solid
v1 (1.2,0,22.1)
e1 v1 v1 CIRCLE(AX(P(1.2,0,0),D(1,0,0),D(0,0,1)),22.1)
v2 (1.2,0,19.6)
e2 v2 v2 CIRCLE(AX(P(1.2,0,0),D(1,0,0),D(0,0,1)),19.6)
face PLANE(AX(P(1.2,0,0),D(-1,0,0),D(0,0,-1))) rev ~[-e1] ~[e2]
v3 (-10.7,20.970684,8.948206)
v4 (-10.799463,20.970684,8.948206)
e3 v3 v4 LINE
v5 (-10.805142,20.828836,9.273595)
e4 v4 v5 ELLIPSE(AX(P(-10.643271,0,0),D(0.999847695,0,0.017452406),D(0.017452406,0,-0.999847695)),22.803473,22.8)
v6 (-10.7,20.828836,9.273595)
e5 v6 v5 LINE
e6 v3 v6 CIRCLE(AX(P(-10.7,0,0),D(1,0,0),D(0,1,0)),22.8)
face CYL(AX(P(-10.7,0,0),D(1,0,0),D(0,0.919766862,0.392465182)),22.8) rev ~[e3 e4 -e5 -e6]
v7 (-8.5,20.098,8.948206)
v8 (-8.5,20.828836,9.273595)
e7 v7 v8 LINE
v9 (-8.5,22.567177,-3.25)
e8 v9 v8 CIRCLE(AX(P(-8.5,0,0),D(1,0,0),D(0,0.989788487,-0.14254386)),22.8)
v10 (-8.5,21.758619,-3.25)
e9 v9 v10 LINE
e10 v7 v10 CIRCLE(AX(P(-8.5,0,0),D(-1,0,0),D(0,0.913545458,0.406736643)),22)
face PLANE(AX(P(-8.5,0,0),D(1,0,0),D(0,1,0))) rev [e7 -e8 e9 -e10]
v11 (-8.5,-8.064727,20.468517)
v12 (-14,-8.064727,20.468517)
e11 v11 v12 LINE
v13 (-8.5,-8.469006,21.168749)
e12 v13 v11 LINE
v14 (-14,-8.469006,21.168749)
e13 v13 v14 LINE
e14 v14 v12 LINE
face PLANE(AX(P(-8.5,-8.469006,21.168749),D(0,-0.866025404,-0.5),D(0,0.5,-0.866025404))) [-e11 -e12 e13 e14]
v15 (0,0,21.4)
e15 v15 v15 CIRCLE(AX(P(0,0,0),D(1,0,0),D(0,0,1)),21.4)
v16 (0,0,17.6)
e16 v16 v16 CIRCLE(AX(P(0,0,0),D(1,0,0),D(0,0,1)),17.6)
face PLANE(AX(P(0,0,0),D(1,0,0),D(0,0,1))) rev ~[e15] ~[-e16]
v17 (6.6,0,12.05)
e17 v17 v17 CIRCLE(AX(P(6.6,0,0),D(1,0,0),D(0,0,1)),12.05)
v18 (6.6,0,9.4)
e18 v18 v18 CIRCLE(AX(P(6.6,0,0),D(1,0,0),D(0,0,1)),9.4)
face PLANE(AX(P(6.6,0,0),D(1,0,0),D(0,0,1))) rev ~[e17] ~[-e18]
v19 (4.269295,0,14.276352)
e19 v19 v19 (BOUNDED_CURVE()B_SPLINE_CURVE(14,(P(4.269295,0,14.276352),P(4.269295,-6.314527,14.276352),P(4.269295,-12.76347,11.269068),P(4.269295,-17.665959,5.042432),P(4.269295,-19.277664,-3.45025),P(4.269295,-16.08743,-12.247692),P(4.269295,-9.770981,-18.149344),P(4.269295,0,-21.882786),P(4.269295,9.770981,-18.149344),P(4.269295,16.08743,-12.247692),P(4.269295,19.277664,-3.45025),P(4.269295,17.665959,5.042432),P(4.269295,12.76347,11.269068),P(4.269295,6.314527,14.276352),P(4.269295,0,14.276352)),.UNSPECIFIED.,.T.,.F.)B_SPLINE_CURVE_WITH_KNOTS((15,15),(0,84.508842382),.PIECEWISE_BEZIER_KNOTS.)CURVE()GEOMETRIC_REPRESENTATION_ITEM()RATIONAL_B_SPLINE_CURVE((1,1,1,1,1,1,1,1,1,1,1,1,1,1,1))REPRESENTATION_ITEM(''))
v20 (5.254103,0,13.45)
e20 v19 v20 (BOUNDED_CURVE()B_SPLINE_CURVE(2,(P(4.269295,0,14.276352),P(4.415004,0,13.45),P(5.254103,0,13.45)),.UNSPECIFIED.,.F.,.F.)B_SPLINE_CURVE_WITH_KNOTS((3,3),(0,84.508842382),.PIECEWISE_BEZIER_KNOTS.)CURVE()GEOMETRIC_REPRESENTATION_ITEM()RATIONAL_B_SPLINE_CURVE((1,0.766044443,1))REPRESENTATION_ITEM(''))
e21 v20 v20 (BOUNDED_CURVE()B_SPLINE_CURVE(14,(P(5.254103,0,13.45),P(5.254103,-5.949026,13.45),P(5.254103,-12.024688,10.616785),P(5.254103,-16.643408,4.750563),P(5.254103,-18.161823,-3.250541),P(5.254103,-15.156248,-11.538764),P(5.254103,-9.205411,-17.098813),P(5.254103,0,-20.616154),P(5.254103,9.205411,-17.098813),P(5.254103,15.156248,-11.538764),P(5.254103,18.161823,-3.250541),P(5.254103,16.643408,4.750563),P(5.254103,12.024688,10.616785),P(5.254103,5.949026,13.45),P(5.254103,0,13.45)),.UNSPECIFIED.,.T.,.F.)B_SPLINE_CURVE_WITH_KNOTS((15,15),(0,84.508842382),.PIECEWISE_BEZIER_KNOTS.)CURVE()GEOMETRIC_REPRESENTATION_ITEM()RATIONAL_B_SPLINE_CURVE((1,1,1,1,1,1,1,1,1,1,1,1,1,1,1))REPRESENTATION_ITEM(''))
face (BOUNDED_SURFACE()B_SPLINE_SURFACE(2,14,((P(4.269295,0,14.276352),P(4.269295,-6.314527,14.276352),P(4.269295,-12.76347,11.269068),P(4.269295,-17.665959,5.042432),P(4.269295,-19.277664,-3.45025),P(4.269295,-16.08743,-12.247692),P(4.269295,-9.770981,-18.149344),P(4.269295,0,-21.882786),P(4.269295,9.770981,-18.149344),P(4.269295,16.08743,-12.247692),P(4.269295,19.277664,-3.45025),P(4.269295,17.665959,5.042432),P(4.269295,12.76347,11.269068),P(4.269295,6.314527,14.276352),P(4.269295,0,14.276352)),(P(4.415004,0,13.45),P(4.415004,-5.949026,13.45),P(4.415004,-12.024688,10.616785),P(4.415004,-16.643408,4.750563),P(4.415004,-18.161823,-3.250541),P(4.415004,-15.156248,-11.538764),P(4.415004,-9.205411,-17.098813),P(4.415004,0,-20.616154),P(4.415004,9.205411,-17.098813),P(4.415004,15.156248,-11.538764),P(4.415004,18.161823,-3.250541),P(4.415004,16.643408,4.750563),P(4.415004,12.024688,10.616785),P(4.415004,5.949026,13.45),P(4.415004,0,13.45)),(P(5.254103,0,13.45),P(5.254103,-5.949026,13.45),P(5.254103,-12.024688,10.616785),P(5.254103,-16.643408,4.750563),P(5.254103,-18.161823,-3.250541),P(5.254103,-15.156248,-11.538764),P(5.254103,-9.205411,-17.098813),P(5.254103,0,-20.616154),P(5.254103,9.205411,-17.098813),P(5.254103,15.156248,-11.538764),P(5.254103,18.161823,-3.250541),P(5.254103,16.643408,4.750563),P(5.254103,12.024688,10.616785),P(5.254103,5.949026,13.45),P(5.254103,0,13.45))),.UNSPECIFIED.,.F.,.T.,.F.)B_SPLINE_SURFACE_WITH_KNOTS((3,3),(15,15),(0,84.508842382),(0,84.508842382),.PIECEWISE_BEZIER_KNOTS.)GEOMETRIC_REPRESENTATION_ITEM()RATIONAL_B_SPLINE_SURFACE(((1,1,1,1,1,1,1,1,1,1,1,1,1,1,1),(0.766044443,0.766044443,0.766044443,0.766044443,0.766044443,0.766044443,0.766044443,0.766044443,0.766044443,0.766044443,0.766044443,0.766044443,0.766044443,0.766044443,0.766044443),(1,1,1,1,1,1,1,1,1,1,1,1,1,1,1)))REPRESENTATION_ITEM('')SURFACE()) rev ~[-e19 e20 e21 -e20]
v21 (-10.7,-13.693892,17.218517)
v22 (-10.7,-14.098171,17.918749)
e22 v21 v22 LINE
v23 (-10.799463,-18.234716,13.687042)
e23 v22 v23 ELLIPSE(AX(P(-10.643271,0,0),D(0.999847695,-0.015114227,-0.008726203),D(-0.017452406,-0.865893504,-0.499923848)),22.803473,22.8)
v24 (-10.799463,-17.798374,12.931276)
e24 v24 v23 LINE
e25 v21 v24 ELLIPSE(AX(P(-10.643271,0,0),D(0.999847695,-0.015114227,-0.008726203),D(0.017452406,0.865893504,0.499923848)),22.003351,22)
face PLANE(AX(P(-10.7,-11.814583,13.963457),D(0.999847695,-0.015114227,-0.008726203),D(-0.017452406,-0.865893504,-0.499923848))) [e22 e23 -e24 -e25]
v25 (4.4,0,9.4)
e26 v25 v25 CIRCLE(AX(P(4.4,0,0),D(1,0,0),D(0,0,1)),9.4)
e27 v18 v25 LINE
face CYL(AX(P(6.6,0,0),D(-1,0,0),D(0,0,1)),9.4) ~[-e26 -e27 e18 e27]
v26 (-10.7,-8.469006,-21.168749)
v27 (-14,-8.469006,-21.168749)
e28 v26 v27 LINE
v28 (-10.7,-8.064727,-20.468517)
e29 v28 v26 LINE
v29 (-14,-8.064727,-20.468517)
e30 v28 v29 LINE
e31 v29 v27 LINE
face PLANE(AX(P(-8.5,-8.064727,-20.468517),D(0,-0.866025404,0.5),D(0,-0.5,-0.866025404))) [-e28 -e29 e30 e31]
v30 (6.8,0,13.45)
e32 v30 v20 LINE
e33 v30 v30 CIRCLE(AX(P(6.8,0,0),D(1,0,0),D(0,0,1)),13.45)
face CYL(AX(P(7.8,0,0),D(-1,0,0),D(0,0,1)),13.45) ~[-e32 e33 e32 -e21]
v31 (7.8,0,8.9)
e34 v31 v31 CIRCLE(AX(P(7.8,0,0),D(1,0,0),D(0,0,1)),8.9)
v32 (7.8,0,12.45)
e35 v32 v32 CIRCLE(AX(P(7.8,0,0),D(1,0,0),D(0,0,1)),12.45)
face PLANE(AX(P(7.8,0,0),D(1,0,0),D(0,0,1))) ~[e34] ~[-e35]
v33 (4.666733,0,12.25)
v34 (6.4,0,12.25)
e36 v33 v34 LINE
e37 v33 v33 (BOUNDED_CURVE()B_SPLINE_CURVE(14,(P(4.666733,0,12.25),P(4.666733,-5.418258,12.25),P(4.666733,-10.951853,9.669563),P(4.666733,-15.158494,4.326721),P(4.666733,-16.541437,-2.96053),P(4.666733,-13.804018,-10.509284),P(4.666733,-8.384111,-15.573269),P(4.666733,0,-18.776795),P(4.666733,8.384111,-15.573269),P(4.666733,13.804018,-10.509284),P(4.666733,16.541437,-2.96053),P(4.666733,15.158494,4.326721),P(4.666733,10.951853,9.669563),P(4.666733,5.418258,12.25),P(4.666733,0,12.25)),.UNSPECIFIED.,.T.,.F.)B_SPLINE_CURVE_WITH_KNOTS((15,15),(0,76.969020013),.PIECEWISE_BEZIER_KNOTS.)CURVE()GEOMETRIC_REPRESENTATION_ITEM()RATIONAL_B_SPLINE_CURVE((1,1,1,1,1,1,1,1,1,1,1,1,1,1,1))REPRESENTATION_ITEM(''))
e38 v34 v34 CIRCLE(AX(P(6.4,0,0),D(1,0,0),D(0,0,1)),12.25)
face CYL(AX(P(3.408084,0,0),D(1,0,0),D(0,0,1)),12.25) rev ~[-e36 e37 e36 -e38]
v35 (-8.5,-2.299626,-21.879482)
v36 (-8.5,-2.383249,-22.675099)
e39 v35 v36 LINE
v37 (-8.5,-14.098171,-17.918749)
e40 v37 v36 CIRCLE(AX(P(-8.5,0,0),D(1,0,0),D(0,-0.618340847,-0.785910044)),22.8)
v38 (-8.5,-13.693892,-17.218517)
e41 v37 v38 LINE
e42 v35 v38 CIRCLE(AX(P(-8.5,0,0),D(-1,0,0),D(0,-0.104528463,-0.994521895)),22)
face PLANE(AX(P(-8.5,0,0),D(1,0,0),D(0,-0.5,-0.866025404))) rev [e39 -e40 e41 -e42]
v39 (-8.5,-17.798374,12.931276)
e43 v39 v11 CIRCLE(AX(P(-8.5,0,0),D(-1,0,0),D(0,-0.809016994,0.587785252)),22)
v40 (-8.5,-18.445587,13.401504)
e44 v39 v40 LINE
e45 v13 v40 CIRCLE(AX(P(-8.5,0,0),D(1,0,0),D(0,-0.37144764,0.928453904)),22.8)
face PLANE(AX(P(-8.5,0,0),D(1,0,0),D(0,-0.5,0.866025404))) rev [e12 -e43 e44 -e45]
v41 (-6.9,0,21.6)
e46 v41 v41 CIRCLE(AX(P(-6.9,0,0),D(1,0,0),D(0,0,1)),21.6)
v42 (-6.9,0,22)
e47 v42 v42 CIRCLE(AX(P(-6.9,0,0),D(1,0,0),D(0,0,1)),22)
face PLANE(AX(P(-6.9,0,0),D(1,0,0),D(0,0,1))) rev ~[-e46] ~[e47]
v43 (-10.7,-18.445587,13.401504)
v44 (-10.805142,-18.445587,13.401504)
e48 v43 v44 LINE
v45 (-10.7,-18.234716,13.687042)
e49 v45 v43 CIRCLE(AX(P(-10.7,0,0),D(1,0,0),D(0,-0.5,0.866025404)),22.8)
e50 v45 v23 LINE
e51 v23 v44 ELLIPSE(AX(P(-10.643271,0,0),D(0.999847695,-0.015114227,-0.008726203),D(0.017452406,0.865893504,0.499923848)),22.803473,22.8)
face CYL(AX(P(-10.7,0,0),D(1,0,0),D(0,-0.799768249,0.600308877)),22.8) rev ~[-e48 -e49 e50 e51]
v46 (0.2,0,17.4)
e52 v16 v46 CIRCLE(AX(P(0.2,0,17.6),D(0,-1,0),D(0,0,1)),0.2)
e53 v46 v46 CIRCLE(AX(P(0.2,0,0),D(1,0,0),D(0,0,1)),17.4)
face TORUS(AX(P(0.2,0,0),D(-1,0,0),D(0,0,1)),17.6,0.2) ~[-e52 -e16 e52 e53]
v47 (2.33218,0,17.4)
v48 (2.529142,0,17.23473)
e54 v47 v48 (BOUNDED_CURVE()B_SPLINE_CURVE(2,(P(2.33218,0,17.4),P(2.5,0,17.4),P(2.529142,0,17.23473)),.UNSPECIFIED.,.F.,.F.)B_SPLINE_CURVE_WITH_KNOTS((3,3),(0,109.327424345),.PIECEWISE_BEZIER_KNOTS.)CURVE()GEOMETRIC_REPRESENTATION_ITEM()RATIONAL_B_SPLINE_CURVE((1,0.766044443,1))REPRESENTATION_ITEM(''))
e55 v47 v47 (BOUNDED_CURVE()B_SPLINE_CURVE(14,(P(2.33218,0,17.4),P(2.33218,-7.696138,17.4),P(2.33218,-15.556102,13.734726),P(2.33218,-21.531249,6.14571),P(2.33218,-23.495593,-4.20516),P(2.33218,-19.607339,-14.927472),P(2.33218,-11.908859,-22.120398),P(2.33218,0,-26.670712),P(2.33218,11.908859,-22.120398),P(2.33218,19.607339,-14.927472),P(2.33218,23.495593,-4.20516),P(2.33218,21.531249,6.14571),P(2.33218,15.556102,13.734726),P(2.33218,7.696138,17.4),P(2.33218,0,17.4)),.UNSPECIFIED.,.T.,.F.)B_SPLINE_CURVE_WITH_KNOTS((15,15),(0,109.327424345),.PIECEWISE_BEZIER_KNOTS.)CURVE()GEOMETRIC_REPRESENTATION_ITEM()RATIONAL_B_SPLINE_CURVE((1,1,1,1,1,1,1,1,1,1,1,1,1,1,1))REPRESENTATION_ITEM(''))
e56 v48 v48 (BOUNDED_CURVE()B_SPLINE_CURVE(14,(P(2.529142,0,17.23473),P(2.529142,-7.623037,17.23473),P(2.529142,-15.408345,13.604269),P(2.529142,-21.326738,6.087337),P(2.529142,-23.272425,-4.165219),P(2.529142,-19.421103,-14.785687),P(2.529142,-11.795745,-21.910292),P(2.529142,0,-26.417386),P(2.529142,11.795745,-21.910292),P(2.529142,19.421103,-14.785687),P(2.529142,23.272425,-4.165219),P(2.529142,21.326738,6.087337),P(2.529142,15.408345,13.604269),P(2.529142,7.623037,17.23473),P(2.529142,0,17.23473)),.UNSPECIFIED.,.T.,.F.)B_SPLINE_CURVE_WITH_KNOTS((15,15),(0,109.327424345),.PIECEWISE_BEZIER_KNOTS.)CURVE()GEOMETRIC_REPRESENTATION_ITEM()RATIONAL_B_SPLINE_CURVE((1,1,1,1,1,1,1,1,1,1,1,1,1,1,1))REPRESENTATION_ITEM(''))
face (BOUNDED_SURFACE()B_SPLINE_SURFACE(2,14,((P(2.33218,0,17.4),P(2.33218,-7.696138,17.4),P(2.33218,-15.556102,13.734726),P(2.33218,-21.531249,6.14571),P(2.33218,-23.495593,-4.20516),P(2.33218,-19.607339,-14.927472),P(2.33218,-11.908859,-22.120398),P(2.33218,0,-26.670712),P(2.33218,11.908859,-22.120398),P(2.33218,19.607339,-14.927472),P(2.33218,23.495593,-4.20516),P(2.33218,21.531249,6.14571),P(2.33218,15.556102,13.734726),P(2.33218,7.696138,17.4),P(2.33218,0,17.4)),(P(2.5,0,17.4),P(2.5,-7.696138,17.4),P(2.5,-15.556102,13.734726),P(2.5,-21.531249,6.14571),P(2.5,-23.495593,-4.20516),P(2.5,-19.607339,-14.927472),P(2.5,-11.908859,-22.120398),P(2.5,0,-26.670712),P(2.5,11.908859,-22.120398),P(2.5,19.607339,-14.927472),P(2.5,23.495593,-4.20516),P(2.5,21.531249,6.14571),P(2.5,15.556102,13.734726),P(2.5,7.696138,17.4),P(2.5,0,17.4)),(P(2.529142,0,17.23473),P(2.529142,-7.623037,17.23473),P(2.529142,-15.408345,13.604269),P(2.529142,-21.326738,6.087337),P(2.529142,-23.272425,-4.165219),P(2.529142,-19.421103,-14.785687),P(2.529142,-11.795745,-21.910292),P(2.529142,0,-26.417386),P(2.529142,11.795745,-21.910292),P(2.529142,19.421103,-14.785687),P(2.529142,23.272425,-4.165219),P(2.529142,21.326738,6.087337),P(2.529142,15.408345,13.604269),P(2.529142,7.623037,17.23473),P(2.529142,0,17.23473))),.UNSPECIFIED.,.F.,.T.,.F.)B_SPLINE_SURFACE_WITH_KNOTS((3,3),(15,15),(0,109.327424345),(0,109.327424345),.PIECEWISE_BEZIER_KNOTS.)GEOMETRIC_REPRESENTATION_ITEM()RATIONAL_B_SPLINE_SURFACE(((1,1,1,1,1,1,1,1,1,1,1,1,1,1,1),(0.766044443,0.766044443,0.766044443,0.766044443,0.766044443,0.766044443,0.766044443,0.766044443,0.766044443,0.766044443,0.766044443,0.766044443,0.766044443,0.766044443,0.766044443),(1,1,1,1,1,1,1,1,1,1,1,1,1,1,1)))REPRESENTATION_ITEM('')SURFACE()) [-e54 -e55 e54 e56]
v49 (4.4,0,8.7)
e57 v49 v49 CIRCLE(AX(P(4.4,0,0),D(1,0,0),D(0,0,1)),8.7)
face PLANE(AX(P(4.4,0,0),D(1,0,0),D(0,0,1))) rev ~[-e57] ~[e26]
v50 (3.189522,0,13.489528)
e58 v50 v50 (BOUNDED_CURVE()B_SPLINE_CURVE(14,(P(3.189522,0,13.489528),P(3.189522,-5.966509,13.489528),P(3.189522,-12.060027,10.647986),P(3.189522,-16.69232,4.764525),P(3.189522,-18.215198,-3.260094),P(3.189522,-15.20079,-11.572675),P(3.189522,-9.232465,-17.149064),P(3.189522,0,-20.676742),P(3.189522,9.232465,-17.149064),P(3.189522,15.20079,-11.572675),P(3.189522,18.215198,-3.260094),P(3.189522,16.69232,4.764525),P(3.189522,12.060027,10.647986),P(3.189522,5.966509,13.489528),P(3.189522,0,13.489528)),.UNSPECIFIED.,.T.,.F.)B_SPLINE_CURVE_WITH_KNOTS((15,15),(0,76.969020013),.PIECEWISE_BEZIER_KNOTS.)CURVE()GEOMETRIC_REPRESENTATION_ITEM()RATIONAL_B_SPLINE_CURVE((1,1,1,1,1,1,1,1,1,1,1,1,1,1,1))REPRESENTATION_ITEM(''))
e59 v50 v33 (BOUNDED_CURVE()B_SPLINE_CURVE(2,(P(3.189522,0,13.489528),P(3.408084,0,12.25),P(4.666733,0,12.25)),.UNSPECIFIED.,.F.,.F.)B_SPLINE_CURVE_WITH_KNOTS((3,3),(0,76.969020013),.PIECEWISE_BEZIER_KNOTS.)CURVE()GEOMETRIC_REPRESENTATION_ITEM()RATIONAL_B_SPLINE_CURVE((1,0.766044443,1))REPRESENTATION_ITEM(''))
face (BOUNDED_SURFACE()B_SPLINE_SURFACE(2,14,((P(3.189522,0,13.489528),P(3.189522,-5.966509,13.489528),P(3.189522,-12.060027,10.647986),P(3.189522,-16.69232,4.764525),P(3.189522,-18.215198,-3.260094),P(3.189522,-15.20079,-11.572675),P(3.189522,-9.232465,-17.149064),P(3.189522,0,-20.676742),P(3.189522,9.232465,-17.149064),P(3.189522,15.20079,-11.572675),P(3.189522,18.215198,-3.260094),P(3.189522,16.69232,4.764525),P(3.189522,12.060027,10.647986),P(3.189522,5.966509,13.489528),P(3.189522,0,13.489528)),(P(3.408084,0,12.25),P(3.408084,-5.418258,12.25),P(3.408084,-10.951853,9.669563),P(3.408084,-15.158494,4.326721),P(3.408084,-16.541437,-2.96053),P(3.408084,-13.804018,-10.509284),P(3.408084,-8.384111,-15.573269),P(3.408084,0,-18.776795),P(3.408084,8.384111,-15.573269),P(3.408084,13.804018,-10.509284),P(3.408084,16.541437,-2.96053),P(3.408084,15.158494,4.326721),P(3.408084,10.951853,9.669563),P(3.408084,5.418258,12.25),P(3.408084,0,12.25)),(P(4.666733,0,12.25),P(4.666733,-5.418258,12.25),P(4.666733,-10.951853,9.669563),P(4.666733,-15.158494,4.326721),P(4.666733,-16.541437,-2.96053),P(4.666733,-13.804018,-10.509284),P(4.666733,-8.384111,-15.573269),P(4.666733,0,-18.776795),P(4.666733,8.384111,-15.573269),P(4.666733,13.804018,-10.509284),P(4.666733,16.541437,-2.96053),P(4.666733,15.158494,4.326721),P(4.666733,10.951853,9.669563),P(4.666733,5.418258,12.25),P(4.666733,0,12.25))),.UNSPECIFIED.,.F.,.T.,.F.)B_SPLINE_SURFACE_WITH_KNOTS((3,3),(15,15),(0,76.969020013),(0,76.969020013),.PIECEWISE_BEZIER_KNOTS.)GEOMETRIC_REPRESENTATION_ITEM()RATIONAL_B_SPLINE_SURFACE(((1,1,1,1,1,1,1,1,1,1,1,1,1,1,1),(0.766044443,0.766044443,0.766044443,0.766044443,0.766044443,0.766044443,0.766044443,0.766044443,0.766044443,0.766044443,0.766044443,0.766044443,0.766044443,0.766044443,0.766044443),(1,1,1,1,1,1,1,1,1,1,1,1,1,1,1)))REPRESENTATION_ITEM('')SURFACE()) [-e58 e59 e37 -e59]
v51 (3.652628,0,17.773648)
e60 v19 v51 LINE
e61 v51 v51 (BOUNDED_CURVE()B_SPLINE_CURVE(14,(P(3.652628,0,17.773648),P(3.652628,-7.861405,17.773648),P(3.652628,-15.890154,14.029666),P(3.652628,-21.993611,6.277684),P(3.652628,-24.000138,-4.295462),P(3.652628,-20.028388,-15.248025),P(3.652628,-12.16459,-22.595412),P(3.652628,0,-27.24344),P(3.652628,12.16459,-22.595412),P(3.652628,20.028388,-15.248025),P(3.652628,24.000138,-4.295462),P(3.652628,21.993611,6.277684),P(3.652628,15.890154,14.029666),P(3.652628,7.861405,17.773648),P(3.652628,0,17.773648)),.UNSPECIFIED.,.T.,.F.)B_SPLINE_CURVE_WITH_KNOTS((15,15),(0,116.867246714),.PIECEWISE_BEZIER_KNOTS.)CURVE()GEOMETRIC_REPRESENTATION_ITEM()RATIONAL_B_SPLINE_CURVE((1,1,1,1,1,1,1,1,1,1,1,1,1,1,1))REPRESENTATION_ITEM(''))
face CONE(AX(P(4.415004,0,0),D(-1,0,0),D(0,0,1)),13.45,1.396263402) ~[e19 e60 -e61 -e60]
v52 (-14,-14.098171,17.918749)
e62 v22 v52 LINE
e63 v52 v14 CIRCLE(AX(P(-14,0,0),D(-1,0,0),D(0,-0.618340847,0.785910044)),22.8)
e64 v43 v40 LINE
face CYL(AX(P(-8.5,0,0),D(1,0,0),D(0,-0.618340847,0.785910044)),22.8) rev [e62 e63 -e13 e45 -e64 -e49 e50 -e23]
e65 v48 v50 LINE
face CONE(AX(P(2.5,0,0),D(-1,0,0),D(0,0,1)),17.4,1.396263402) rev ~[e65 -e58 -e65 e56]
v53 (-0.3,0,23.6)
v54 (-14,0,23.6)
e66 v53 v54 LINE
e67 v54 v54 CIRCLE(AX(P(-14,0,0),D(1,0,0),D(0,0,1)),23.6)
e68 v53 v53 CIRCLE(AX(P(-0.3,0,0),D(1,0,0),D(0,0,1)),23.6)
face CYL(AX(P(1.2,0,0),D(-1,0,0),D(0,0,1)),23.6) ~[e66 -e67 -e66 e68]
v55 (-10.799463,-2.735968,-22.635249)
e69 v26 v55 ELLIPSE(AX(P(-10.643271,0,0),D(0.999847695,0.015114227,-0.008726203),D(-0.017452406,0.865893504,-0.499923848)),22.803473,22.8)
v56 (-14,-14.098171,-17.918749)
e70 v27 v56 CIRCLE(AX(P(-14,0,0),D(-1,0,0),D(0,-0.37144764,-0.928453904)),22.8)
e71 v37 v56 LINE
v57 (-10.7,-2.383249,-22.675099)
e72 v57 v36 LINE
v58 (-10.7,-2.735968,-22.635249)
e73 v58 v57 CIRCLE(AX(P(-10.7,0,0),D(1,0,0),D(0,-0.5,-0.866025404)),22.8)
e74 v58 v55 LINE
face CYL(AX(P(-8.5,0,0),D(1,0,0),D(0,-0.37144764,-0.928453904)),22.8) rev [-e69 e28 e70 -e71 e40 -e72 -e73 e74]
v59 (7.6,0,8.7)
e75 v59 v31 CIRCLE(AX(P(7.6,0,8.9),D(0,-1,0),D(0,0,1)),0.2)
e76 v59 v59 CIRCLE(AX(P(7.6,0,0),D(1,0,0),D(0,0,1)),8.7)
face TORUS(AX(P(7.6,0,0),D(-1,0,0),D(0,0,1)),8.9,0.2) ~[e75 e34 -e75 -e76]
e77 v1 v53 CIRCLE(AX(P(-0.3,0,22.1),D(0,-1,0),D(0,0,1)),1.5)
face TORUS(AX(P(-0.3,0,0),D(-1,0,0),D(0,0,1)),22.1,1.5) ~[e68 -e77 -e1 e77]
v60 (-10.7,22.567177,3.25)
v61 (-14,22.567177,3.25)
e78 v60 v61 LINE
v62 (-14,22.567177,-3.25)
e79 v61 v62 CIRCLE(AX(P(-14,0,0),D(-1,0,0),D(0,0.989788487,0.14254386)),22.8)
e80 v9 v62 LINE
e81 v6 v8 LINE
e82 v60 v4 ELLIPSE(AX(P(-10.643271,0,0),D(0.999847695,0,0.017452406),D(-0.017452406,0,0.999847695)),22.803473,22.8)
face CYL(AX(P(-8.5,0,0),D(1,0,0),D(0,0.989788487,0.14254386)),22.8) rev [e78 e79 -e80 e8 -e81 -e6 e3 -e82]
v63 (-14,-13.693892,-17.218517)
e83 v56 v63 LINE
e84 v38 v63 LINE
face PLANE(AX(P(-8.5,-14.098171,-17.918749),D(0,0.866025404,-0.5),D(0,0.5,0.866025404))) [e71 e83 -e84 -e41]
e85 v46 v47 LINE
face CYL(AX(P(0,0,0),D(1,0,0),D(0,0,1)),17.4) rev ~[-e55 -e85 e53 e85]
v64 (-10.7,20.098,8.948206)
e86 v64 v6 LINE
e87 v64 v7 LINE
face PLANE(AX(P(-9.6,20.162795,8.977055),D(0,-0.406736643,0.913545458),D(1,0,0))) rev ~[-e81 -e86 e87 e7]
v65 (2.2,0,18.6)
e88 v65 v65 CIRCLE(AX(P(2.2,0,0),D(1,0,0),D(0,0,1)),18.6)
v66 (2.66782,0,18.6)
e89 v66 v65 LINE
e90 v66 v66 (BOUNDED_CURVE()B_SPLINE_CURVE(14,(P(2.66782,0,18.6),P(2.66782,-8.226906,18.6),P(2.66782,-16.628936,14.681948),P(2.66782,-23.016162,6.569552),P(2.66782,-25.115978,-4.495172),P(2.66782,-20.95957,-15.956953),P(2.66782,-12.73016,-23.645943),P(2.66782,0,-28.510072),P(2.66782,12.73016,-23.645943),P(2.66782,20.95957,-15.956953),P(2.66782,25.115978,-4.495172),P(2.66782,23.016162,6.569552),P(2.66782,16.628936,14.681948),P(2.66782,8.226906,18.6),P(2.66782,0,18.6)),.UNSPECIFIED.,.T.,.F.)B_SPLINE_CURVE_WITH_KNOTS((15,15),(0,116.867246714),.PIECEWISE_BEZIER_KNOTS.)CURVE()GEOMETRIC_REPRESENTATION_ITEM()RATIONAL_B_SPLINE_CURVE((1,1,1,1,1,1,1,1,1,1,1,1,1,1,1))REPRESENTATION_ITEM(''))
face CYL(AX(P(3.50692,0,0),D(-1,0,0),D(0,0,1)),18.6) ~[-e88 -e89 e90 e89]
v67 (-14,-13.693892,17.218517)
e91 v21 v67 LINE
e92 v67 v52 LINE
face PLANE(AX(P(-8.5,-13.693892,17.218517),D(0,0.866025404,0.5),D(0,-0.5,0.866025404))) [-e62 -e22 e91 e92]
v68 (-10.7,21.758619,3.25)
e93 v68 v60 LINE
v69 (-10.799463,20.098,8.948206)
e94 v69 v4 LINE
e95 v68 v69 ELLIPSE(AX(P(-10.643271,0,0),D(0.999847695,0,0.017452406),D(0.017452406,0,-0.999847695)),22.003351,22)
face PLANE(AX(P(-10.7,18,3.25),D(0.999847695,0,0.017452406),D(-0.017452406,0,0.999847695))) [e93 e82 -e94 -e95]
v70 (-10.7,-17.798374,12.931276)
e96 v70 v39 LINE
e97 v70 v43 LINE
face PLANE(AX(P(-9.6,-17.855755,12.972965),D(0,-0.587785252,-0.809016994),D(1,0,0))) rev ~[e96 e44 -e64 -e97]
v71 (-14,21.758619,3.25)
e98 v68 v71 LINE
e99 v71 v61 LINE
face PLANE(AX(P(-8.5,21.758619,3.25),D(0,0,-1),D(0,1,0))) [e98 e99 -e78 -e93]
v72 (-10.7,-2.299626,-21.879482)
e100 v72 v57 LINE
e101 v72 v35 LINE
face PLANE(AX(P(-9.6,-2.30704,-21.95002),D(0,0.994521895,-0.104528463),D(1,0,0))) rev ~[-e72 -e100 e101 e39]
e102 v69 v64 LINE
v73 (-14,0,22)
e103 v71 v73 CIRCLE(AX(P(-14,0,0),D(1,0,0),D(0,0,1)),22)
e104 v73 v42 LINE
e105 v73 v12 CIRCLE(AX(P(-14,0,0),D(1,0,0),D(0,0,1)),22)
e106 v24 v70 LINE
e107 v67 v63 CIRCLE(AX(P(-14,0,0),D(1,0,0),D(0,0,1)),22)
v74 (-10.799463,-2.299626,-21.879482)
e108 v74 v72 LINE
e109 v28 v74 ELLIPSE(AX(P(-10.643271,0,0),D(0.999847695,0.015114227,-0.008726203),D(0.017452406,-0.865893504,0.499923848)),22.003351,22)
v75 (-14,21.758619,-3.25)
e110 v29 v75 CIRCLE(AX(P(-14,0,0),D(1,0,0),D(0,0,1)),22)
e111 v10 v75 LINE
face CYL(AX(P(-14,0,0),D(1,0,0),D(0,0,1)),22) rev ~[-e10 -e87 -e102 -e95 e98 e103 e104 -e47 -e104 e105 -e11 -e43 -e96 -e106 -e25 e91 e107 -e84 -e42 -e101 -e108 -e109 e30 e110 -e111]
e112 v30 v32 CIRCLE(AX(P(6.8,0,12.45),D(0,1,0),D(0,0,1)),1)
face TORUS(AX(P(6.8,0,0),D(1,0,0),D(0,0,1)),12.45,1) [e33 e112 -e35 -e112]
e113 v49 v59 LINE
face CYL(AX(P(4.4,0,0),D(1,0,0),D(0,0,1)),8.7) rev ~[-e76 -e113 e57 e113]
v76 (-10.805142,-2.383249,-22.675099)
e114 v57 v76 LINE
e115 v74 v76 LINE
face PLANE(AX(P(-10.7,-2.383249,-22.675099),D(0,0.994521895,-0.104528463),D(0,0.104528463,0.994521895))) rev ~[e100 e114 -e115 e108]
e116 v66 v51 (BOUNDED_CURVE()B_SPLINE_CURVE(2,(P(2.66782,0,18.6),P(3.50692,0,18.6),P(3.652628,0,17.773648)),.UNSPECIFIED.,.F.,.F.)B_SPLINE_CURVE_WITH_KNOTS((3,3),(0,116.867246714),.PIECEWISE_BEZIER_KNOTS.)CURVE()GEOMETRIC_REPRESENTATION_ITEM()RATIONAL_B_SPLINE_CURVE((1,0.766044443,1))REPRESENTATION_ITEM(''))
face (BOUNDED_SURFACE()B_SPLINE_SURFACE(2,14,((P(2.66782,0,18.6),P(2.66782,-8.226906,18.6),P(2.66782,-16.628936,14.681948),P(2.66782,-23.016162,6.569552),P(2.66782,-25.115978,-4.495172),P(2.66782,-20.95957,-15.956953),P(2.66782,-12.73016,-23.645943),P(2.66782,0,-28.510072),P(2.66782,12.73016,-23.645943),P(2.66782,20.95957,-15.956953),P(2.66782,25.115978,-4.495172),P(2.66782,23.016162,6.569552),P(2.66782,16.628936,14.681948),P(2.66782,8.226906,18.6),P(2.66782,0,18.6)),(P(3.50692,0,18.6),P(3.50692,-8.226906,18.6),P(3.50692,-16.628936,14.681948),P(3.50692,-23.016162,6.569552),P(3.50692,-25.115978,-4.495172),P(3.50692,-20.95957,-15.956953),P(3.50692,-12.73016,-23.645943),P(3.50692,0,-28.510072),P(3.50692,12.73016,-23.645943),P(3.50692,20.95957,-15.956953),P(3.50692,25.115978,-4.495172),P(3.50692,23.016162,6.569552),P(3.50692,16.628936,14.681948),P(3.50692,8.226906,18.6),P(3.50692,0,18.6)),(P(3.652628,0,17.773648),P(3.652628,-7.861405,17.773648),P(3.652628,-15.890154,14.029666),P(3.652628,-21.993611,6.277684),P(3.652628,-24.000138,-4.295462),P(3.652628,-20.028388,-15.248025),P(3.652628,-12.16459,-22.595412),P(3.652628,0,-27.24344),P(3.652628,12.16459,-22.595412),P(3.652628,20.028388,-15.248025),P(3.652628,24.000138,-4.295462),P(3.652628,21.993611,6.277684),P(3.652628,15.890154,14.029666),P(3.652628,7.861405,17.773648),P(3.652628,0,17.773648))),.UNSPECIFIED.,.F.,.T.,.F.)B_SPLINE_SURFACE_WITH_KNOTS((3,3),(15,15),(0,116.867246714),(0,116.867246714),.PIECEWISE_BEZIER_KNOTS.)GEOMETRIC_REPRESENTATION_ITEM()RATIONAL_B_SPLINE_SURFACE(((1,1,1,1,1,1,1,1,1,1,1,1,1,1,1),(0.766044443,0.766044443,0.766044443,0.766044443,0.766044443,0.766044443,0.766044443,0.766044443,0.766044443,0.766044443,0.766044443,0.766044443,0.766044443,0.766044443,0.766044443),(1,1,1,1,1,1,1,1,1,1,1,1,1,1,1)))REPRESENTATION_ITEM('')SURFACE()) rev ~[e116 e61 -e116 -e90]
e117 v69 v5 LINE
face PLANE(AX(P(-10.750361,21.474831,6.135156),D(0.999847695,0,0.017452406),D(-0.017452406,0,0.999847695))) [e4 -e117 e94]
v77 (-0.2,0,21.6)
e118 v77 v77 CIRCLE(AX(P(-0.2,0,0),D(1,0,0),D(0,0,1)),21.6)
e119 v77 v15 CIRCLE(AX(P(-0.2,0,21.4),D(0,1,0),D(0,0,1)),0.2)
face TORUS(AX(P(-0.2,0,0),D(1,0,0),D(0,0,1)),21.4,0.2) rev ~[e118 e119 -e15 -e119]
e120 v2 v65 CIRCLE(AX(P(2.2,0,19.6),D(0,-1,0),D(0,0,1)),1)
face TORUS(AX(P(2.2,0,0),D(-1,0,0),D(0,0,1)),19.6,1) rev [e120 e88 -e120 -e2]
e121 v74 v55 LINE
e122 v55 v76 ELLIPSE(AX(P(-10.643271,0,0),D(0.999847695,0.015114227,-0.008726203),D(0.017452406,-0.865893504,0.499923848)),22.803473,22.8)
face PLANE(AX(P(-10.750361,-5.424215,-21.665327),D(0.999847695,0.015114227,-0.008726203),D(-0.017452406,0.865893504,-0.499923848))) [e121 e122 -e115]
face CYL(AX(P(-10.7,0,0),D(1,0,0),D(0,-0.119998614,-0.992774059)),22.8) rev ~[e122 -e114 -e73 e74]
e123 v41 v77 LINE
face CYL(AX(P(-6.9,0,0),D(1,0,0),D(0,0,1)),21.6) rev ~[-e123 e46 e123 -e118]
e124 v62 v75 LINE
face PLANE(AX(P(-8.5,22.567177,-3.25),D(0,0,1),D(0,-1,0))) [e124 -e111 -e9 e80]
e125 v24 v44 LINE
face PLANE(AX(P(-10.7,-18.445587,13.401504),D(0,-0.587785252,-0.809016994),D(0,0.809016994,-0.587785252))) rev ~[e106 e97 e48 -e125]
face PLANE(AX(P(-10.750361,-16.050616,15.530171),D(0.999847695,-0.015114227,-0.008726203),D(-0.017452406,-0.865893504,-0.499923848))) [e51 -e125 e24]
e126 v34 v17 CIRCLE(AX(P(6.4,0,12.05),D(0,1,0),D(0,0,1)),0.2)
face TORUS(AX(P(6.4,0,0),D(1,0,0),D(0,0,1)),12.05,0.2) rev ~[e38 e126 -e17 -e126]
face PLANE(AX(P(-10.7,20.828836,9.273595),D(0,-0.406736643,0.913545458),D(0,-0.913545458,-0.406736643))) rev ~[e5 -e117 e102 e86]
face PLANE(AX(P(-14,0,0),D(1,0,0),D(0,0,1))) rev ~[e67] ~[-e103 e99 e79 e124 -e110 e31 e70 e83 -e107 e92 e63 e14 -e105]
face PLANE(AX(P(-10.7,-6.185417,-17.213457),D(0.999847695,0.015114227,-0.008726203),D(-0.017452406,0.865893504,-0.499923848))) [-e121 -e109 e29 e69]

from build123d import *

# Parameters (mm, degrees)
FILLET_1_R               = 0.2
FILLET_2_R               = 1
FILLET_3_R               = 1.5
CUT_EXTRUDE_START        = -1
CUT_EXTRUDE_1_DEPTH      = 1
CUT_EXTRUDE_START_2      = -5.5
CUT_EXTRUDE_2_DEPTH      = 5.5
SKETCH_5_W               = 2.200000000000001
SKETCH_5_H               = 1.458146796235166
CUT_REVOLVE_1_ANGLE      = 24.000000000000053
CUT_EXTRUDE_3_REACH      = 51.835
CUT_EXTRUDE_3_END_RADIUS = 22.8
PATTERN_CIRCULAR_1_COUNT = 3
CUT_EXTRUDE_5_REACH      = 40.16
PATTERN_CIRCULAR_3_COUNT = 3
CUT_EXTRUDE_6_REACH      = 40.16
CUT_EXTRUDE_7_REACH      = 40.16


with BuildPart() as part:
    # 草图2 → 旋转1 (revolve)
    with BuildSketch(Plane.XY, mode=Mode.PRIVATE) as revolve_1_sk:
        Polygon((-13.999999999999998, 22), (-6.899999999999999, 22), (-6.899999999999999, 21.599999999999998), (1.73e-15, 21.599999999999998), (2.28e-15, 17.4), (2.500000000000002, 17.4), (3.4080839506486016, 12.25), (6.600000000000003, 12.25), (6.600000000000003, 9.4), (4.400000000000003, 9.4), (4.400000000000003, 8.700000000000001), (7.800000000000003, 8.700000000000001), (7.800000000000003, 13.45), (4.415003508061337, 13.45), (3.506919557412737, 18.599999999999998), (1.200000000000002, 18.599999999999998), (1.2000000000000015, 23.599999999999998), (-13.999999999999998, 23.599999999999998), align=None)
    revolve(revolve_1_sk.sketch.rotate(Axis((-36.93660531697341, 0, 0), (1, 0, 0)), 90), axis=Axis((-36.93660531697341, 0, 0), (1, 0, 0)))

    # 圆角1
    fillet_1_edges = [part.edges().sort_by_distance(p)[0] for p in [
        (0, 4.55e-15, -21.599999999999998),
        (0, -4.06e-15, -17.4),
        (2.5, -4.06e-15, -17.4),
        (6.600000000000001, -2.86e-15, -12.25),
        (7.800000000000004, -2.03e-15, -8.700000000000001),
    ]]
    fillet(fillet_1_edges, radius=FILLET_1_R)

    # 圆角2
    fillet_2_edges = [part.edges().sort_by_distance(p)[0] for p in [
        (7.800000000000004, -3.14e-15, -13.45),
        (4.415003508061339, -3.14e-15, -13.45),
        (3.5069195574127363, -4.34e-15, -18.599999999999998),
        (1.2000000000000028, -4.34e-15, -18.599999999999998),
    ]]
    fillet(fillet_2_edges, radius=FILLET_2_R)

    # 圆角3
    fillet_3_edges = [part.edges().sort_by_distance(p)[0] for p in [
        (3.408083950648603, -2.86e-15, -12.25),
        (1.2000000000000028, -5.51e-15, -23.599999999999998),
    ]]
    fillet(fillet_3_edges, radius=FILLET_3_R)

    # 草图3 → 切除-拉伸1 (cut)
    with BuildSketch(Plane.ZY.offset(13.999999999999998).offset(CUT_EXTRUDE_START)):
        with BuildLine():
            Line((-0.49999999999999933, 22.599999999999998), (0.5000000000000004, 22.599999999999998))
            Line((0.5000000000000004, 22.599999999999998), (0.5000000000000006, 21.99431744792277))
            ThreePointArc((0.5000000000000006, 21.99431744792277), (1.35e-15, 22), (-0.4999999999999993, 21.99431744792277))
            Line((-0.4999999999999993, 21.99431744792277), (-0.49999999999999933, 22.599999999999998))
        make_face()
    extrude(amount=CUT_EXTRUDE_1_DEPTH, mode=Mode.SUBTRACT)

    # 草图4 → 切除-拉伸2 (cut)
    with BuildSketch(Plane.ZY.offset(13.999999999999998).offset(CUT_EXTRUDE_START_2)):
        with BuildLine():
            Line((-3.2499999999999982, 22.56717749298747), (-3.2499999999999987, 21.75861898191151))
            ThreePointArc((-3.2499999999999987, 21.75861898191151), (1.35e-15, 21.999999999999996), (3.2500000000000013, 21.75861898191151))
            Line((3.2500000000000013, 21.75861898191151), (3.2500000000000018, 22.567177492987465))
            ThreePointArc((3.2500000000000018, 22.567177492987465), (1.4e-15, 22.8), (-3.2499999999999982, 22.56717749298747))
        make_face()
    cut_extrude_2 = extrude(amount=CUT_EXTRUDE_2_DEPTH, mode=Mode.SUBTRACT)

    # 草图5 → 切除-旋转1 (revolve, cut)
    with BuildSketch(Plane.XY):
        with Locations((-9.599999999999994, 22.070926601882412)):
            Rectangle(SKETCH_5_W, SKETCH_5_H)
    cut_revolve_1 = revolve(axis=Axis((16.624194515447005, 0, 0), (1, 0, 0)), revolution_arc=CUT_REVOLVE_1_ANGLE, mode=Mode.SUBTRACT)

    # 切除-拉伸3: up to this cylinder (the profile starts inside it)
    cut_extrude_3_end = Plane(origin=(-10.733154, 0, 0), z_dir=(-1, 0, 0)) * Cylinder(CUT_EXTRUDE_3_END_RADIUS, 150.27, mode=Mode.PRIVATE)
    # 草图6 → 切除-拉伸3 (cut, up to the surface)
    with BuildSketch(Plane(origin=(0, 18, 0), x_dir=(1, 0, 0), z_dir=(0, 1, 0)), mode=Mode.PRIVATE) as cut_extrude_3_sk1:
        Polygon((-10.699999999999994, -8.948206147667621), (-10.699999999999994, -3.2500000000000013), (-10.799462558281862, -8.948206147667621), align=None)
    cut_extrude_3_tool1 = extrude(cut_extrude_3_sk1.sketch, amount=CUT_EXTRUDE_3_REACH, mode=Mode.PRIVATE) & cut_extrude_3_end
    cut_extrude_3 = cut_extrude_3_tool1.solids().sort_by_distance((-10.733154, 18, 7.048804))[0]
    add(cut_extrude_3, mode=Mode.SUBTRACT)

    # 阵列(圆周)1: 切除-拉伸2, 切除-旋转1 ×3 about axis
    pattern_circular_1_axis = Axis((0, 5e-17, 2e-16), (1, 0, 0))
    add([cut_extrude_2.rotate(pattern_circular_1_axis, i * 360 / PATTERN_CIRCULAR_1_COUNT) for i in range(1, PATTERN_CIRCULAR_1_COUNT)], mode=Mode.SUBTRACT)
    add([cut_revolve_1.rotate(pattern_circular_1_axis, i * 360 / PATTERN_CIRCULAR_1_COUNT) for i in range(1, PATTERN_CIRCULAR_1_COUNT)], mode=Mode.SUBTRACT)

    # 切除-拉伸5: up to this face of the body (flat: up to its plane)
    cut_extrude_5_end = Plane(part.part.faces().sort_by_distance((-10.750360581, 21.4748312, 6.135155752))[0])
    # 草图9 → 切除-拉伸5 (cut, up to the picked face)
    with BuildSketch(Plane(origin=(-10.699999999999994, 0, 0), x_dir=(0, 0, -1), z_dir=(1, 0, 0)), mode=Mode.PRIVATE) as cut_extrude_5_sk1:
        with BuildLine():
            Line((-9.273595462128261, 20.82883643425129), (-8.948206147667621, 20.09800006813721))
            Line((-8.948206147667621, 20.09800006813721), (-8.948206147667618, 20.970684460428163))
            ThreePointArc((-8.948206147667618, 20.970684460428163), (-9.111176855506788, 20.90039368786333), (-9.273595462128261, 20.82883643425129))
        make_face()
    cut_extrude_5_tool1 = split(extrude(cut_extrude_5_sk1.sketch, amount=-CUT_EXTRUDE_5_REACH, mode=Mode.PRIVATE), bisect_by=cut_extrude_5_end, keep=Keep.BOTH, mode=Mode.PRIVATE)
    add(cut_extrude_5_tool1.solids().sort_by(Axis((-10.7, 20.632815, 9.056732), (-1, 0, 0)))[0], mode=Mode.SUBTRACT)

    # 阵列(圆周)3: 切除-拉伸3 ×3 about axis
    pattern_circular_3_axis = Axis((0, 0, 3e-17), (1, 0, 0))
    for i in range(1, PATTERN_CIRCULAR_3_COUNT):
        add(cut_extrude_3.rotate(pattern_circular_3_axis, i * 360 / PATTERN_CIRCULAR_3_COUNT), mode=Mode.SUBTRACT)

    # 切除-拉伸6: up to this face of the body (flat: up to its plane)
    cut_extrude_6_end = Plane(part.part.faces().sort_by_distance((-10.750360581, -5.424214863, -21.665327237))[0])
    # 草图10 → 切除-拉伸6 (cut, up to the picked face)
    with BuildSketch(Plane(origin=(-10.699999999999994, 0, 0), x_dir=(0, 0, -1), z_dir=(1, 0, 0)), mode=Mode.PRIVATE) as cut_extrude_6_sk1:
        with BuildLine():
            Line((22.675099214396656, -2.383248962502268), (21.879481698102033, -2.2996261918881546))
            Line((21.879481698102033, -2.2996261918881546), (22.63524855131219, -2.7359683880336263))
            ThreePointArc((22.63524855131219, -2.7359683880336263), (22.655860310538994, -2.5596862286897593), (22.675099214396656, -2.383248962502268))
        make_face()
    cut_extrude_6_tool1 = split(extrude(cut_extrude_6_sk1.sketch, amount=-CUT_EXTRUDE_6_REACH, mode=Mode.PRIVATE), bisect_by=cut_extrude_6_end, keep=Keep.BOTH, mode=Mode.PRIVATE)
    add(cut_extrude_6_tool1.solids().sort_by(Axis((-10.7, -2.473048, -22.396907), (-1, 0, 0)))[0], mode=Mode.SUBTRACT)

    # 切除-拉伸7: up to this face of the body (flat: up to its plane)
    cut_extrude_7_end = Plane(part.part.faces().sort_by_distance((-10.750360581, -16.050616337, 15.530171486))[0])
    # 草图11 → 切除-拉伸7 (cut, up to the picked face)
    with BuildSketch(Plane(origin=(-10.699999999999994, 0, 0), x_dir=(0, 0, -1), z_dir=(1, 0, 0)), mode=Mode.PRIVATE) as cut_extrude_7_sk1:
        with BuildLine():
            Line((-13.401503752268288, -18.445587471748876), (-12.93127555043432, -17.79837387624892))
            Line((-12.93127555043432, -17.79837387624892), (-13.687042403644462, -18.234716072394395))
            ThreePointArc((-13.687042403644462, -18.234716072394395), (-13.5446834550321, -18.340707459173426), (-13.401503752268288, -18.445587471748876))
        make_face()
    cut_extrude_7_tool1 = split(extrude(cut_extrude_7_sk1.sketch, amount=-CUT_EXTRUDE_7_REACH, mode=Mode.PRIVATE), bisect_by=cut_extrude_7_end, keep=Keep.BOTH, mode=Mode.PRIVATE)
    add(cut_extrude_7_tool1.solids().sort_by(Axis((-10.7, -18.159767, 13.340176), (-1, 0, 0)))[0], mode=Mode.SUBTRACT)


solid = part.part
